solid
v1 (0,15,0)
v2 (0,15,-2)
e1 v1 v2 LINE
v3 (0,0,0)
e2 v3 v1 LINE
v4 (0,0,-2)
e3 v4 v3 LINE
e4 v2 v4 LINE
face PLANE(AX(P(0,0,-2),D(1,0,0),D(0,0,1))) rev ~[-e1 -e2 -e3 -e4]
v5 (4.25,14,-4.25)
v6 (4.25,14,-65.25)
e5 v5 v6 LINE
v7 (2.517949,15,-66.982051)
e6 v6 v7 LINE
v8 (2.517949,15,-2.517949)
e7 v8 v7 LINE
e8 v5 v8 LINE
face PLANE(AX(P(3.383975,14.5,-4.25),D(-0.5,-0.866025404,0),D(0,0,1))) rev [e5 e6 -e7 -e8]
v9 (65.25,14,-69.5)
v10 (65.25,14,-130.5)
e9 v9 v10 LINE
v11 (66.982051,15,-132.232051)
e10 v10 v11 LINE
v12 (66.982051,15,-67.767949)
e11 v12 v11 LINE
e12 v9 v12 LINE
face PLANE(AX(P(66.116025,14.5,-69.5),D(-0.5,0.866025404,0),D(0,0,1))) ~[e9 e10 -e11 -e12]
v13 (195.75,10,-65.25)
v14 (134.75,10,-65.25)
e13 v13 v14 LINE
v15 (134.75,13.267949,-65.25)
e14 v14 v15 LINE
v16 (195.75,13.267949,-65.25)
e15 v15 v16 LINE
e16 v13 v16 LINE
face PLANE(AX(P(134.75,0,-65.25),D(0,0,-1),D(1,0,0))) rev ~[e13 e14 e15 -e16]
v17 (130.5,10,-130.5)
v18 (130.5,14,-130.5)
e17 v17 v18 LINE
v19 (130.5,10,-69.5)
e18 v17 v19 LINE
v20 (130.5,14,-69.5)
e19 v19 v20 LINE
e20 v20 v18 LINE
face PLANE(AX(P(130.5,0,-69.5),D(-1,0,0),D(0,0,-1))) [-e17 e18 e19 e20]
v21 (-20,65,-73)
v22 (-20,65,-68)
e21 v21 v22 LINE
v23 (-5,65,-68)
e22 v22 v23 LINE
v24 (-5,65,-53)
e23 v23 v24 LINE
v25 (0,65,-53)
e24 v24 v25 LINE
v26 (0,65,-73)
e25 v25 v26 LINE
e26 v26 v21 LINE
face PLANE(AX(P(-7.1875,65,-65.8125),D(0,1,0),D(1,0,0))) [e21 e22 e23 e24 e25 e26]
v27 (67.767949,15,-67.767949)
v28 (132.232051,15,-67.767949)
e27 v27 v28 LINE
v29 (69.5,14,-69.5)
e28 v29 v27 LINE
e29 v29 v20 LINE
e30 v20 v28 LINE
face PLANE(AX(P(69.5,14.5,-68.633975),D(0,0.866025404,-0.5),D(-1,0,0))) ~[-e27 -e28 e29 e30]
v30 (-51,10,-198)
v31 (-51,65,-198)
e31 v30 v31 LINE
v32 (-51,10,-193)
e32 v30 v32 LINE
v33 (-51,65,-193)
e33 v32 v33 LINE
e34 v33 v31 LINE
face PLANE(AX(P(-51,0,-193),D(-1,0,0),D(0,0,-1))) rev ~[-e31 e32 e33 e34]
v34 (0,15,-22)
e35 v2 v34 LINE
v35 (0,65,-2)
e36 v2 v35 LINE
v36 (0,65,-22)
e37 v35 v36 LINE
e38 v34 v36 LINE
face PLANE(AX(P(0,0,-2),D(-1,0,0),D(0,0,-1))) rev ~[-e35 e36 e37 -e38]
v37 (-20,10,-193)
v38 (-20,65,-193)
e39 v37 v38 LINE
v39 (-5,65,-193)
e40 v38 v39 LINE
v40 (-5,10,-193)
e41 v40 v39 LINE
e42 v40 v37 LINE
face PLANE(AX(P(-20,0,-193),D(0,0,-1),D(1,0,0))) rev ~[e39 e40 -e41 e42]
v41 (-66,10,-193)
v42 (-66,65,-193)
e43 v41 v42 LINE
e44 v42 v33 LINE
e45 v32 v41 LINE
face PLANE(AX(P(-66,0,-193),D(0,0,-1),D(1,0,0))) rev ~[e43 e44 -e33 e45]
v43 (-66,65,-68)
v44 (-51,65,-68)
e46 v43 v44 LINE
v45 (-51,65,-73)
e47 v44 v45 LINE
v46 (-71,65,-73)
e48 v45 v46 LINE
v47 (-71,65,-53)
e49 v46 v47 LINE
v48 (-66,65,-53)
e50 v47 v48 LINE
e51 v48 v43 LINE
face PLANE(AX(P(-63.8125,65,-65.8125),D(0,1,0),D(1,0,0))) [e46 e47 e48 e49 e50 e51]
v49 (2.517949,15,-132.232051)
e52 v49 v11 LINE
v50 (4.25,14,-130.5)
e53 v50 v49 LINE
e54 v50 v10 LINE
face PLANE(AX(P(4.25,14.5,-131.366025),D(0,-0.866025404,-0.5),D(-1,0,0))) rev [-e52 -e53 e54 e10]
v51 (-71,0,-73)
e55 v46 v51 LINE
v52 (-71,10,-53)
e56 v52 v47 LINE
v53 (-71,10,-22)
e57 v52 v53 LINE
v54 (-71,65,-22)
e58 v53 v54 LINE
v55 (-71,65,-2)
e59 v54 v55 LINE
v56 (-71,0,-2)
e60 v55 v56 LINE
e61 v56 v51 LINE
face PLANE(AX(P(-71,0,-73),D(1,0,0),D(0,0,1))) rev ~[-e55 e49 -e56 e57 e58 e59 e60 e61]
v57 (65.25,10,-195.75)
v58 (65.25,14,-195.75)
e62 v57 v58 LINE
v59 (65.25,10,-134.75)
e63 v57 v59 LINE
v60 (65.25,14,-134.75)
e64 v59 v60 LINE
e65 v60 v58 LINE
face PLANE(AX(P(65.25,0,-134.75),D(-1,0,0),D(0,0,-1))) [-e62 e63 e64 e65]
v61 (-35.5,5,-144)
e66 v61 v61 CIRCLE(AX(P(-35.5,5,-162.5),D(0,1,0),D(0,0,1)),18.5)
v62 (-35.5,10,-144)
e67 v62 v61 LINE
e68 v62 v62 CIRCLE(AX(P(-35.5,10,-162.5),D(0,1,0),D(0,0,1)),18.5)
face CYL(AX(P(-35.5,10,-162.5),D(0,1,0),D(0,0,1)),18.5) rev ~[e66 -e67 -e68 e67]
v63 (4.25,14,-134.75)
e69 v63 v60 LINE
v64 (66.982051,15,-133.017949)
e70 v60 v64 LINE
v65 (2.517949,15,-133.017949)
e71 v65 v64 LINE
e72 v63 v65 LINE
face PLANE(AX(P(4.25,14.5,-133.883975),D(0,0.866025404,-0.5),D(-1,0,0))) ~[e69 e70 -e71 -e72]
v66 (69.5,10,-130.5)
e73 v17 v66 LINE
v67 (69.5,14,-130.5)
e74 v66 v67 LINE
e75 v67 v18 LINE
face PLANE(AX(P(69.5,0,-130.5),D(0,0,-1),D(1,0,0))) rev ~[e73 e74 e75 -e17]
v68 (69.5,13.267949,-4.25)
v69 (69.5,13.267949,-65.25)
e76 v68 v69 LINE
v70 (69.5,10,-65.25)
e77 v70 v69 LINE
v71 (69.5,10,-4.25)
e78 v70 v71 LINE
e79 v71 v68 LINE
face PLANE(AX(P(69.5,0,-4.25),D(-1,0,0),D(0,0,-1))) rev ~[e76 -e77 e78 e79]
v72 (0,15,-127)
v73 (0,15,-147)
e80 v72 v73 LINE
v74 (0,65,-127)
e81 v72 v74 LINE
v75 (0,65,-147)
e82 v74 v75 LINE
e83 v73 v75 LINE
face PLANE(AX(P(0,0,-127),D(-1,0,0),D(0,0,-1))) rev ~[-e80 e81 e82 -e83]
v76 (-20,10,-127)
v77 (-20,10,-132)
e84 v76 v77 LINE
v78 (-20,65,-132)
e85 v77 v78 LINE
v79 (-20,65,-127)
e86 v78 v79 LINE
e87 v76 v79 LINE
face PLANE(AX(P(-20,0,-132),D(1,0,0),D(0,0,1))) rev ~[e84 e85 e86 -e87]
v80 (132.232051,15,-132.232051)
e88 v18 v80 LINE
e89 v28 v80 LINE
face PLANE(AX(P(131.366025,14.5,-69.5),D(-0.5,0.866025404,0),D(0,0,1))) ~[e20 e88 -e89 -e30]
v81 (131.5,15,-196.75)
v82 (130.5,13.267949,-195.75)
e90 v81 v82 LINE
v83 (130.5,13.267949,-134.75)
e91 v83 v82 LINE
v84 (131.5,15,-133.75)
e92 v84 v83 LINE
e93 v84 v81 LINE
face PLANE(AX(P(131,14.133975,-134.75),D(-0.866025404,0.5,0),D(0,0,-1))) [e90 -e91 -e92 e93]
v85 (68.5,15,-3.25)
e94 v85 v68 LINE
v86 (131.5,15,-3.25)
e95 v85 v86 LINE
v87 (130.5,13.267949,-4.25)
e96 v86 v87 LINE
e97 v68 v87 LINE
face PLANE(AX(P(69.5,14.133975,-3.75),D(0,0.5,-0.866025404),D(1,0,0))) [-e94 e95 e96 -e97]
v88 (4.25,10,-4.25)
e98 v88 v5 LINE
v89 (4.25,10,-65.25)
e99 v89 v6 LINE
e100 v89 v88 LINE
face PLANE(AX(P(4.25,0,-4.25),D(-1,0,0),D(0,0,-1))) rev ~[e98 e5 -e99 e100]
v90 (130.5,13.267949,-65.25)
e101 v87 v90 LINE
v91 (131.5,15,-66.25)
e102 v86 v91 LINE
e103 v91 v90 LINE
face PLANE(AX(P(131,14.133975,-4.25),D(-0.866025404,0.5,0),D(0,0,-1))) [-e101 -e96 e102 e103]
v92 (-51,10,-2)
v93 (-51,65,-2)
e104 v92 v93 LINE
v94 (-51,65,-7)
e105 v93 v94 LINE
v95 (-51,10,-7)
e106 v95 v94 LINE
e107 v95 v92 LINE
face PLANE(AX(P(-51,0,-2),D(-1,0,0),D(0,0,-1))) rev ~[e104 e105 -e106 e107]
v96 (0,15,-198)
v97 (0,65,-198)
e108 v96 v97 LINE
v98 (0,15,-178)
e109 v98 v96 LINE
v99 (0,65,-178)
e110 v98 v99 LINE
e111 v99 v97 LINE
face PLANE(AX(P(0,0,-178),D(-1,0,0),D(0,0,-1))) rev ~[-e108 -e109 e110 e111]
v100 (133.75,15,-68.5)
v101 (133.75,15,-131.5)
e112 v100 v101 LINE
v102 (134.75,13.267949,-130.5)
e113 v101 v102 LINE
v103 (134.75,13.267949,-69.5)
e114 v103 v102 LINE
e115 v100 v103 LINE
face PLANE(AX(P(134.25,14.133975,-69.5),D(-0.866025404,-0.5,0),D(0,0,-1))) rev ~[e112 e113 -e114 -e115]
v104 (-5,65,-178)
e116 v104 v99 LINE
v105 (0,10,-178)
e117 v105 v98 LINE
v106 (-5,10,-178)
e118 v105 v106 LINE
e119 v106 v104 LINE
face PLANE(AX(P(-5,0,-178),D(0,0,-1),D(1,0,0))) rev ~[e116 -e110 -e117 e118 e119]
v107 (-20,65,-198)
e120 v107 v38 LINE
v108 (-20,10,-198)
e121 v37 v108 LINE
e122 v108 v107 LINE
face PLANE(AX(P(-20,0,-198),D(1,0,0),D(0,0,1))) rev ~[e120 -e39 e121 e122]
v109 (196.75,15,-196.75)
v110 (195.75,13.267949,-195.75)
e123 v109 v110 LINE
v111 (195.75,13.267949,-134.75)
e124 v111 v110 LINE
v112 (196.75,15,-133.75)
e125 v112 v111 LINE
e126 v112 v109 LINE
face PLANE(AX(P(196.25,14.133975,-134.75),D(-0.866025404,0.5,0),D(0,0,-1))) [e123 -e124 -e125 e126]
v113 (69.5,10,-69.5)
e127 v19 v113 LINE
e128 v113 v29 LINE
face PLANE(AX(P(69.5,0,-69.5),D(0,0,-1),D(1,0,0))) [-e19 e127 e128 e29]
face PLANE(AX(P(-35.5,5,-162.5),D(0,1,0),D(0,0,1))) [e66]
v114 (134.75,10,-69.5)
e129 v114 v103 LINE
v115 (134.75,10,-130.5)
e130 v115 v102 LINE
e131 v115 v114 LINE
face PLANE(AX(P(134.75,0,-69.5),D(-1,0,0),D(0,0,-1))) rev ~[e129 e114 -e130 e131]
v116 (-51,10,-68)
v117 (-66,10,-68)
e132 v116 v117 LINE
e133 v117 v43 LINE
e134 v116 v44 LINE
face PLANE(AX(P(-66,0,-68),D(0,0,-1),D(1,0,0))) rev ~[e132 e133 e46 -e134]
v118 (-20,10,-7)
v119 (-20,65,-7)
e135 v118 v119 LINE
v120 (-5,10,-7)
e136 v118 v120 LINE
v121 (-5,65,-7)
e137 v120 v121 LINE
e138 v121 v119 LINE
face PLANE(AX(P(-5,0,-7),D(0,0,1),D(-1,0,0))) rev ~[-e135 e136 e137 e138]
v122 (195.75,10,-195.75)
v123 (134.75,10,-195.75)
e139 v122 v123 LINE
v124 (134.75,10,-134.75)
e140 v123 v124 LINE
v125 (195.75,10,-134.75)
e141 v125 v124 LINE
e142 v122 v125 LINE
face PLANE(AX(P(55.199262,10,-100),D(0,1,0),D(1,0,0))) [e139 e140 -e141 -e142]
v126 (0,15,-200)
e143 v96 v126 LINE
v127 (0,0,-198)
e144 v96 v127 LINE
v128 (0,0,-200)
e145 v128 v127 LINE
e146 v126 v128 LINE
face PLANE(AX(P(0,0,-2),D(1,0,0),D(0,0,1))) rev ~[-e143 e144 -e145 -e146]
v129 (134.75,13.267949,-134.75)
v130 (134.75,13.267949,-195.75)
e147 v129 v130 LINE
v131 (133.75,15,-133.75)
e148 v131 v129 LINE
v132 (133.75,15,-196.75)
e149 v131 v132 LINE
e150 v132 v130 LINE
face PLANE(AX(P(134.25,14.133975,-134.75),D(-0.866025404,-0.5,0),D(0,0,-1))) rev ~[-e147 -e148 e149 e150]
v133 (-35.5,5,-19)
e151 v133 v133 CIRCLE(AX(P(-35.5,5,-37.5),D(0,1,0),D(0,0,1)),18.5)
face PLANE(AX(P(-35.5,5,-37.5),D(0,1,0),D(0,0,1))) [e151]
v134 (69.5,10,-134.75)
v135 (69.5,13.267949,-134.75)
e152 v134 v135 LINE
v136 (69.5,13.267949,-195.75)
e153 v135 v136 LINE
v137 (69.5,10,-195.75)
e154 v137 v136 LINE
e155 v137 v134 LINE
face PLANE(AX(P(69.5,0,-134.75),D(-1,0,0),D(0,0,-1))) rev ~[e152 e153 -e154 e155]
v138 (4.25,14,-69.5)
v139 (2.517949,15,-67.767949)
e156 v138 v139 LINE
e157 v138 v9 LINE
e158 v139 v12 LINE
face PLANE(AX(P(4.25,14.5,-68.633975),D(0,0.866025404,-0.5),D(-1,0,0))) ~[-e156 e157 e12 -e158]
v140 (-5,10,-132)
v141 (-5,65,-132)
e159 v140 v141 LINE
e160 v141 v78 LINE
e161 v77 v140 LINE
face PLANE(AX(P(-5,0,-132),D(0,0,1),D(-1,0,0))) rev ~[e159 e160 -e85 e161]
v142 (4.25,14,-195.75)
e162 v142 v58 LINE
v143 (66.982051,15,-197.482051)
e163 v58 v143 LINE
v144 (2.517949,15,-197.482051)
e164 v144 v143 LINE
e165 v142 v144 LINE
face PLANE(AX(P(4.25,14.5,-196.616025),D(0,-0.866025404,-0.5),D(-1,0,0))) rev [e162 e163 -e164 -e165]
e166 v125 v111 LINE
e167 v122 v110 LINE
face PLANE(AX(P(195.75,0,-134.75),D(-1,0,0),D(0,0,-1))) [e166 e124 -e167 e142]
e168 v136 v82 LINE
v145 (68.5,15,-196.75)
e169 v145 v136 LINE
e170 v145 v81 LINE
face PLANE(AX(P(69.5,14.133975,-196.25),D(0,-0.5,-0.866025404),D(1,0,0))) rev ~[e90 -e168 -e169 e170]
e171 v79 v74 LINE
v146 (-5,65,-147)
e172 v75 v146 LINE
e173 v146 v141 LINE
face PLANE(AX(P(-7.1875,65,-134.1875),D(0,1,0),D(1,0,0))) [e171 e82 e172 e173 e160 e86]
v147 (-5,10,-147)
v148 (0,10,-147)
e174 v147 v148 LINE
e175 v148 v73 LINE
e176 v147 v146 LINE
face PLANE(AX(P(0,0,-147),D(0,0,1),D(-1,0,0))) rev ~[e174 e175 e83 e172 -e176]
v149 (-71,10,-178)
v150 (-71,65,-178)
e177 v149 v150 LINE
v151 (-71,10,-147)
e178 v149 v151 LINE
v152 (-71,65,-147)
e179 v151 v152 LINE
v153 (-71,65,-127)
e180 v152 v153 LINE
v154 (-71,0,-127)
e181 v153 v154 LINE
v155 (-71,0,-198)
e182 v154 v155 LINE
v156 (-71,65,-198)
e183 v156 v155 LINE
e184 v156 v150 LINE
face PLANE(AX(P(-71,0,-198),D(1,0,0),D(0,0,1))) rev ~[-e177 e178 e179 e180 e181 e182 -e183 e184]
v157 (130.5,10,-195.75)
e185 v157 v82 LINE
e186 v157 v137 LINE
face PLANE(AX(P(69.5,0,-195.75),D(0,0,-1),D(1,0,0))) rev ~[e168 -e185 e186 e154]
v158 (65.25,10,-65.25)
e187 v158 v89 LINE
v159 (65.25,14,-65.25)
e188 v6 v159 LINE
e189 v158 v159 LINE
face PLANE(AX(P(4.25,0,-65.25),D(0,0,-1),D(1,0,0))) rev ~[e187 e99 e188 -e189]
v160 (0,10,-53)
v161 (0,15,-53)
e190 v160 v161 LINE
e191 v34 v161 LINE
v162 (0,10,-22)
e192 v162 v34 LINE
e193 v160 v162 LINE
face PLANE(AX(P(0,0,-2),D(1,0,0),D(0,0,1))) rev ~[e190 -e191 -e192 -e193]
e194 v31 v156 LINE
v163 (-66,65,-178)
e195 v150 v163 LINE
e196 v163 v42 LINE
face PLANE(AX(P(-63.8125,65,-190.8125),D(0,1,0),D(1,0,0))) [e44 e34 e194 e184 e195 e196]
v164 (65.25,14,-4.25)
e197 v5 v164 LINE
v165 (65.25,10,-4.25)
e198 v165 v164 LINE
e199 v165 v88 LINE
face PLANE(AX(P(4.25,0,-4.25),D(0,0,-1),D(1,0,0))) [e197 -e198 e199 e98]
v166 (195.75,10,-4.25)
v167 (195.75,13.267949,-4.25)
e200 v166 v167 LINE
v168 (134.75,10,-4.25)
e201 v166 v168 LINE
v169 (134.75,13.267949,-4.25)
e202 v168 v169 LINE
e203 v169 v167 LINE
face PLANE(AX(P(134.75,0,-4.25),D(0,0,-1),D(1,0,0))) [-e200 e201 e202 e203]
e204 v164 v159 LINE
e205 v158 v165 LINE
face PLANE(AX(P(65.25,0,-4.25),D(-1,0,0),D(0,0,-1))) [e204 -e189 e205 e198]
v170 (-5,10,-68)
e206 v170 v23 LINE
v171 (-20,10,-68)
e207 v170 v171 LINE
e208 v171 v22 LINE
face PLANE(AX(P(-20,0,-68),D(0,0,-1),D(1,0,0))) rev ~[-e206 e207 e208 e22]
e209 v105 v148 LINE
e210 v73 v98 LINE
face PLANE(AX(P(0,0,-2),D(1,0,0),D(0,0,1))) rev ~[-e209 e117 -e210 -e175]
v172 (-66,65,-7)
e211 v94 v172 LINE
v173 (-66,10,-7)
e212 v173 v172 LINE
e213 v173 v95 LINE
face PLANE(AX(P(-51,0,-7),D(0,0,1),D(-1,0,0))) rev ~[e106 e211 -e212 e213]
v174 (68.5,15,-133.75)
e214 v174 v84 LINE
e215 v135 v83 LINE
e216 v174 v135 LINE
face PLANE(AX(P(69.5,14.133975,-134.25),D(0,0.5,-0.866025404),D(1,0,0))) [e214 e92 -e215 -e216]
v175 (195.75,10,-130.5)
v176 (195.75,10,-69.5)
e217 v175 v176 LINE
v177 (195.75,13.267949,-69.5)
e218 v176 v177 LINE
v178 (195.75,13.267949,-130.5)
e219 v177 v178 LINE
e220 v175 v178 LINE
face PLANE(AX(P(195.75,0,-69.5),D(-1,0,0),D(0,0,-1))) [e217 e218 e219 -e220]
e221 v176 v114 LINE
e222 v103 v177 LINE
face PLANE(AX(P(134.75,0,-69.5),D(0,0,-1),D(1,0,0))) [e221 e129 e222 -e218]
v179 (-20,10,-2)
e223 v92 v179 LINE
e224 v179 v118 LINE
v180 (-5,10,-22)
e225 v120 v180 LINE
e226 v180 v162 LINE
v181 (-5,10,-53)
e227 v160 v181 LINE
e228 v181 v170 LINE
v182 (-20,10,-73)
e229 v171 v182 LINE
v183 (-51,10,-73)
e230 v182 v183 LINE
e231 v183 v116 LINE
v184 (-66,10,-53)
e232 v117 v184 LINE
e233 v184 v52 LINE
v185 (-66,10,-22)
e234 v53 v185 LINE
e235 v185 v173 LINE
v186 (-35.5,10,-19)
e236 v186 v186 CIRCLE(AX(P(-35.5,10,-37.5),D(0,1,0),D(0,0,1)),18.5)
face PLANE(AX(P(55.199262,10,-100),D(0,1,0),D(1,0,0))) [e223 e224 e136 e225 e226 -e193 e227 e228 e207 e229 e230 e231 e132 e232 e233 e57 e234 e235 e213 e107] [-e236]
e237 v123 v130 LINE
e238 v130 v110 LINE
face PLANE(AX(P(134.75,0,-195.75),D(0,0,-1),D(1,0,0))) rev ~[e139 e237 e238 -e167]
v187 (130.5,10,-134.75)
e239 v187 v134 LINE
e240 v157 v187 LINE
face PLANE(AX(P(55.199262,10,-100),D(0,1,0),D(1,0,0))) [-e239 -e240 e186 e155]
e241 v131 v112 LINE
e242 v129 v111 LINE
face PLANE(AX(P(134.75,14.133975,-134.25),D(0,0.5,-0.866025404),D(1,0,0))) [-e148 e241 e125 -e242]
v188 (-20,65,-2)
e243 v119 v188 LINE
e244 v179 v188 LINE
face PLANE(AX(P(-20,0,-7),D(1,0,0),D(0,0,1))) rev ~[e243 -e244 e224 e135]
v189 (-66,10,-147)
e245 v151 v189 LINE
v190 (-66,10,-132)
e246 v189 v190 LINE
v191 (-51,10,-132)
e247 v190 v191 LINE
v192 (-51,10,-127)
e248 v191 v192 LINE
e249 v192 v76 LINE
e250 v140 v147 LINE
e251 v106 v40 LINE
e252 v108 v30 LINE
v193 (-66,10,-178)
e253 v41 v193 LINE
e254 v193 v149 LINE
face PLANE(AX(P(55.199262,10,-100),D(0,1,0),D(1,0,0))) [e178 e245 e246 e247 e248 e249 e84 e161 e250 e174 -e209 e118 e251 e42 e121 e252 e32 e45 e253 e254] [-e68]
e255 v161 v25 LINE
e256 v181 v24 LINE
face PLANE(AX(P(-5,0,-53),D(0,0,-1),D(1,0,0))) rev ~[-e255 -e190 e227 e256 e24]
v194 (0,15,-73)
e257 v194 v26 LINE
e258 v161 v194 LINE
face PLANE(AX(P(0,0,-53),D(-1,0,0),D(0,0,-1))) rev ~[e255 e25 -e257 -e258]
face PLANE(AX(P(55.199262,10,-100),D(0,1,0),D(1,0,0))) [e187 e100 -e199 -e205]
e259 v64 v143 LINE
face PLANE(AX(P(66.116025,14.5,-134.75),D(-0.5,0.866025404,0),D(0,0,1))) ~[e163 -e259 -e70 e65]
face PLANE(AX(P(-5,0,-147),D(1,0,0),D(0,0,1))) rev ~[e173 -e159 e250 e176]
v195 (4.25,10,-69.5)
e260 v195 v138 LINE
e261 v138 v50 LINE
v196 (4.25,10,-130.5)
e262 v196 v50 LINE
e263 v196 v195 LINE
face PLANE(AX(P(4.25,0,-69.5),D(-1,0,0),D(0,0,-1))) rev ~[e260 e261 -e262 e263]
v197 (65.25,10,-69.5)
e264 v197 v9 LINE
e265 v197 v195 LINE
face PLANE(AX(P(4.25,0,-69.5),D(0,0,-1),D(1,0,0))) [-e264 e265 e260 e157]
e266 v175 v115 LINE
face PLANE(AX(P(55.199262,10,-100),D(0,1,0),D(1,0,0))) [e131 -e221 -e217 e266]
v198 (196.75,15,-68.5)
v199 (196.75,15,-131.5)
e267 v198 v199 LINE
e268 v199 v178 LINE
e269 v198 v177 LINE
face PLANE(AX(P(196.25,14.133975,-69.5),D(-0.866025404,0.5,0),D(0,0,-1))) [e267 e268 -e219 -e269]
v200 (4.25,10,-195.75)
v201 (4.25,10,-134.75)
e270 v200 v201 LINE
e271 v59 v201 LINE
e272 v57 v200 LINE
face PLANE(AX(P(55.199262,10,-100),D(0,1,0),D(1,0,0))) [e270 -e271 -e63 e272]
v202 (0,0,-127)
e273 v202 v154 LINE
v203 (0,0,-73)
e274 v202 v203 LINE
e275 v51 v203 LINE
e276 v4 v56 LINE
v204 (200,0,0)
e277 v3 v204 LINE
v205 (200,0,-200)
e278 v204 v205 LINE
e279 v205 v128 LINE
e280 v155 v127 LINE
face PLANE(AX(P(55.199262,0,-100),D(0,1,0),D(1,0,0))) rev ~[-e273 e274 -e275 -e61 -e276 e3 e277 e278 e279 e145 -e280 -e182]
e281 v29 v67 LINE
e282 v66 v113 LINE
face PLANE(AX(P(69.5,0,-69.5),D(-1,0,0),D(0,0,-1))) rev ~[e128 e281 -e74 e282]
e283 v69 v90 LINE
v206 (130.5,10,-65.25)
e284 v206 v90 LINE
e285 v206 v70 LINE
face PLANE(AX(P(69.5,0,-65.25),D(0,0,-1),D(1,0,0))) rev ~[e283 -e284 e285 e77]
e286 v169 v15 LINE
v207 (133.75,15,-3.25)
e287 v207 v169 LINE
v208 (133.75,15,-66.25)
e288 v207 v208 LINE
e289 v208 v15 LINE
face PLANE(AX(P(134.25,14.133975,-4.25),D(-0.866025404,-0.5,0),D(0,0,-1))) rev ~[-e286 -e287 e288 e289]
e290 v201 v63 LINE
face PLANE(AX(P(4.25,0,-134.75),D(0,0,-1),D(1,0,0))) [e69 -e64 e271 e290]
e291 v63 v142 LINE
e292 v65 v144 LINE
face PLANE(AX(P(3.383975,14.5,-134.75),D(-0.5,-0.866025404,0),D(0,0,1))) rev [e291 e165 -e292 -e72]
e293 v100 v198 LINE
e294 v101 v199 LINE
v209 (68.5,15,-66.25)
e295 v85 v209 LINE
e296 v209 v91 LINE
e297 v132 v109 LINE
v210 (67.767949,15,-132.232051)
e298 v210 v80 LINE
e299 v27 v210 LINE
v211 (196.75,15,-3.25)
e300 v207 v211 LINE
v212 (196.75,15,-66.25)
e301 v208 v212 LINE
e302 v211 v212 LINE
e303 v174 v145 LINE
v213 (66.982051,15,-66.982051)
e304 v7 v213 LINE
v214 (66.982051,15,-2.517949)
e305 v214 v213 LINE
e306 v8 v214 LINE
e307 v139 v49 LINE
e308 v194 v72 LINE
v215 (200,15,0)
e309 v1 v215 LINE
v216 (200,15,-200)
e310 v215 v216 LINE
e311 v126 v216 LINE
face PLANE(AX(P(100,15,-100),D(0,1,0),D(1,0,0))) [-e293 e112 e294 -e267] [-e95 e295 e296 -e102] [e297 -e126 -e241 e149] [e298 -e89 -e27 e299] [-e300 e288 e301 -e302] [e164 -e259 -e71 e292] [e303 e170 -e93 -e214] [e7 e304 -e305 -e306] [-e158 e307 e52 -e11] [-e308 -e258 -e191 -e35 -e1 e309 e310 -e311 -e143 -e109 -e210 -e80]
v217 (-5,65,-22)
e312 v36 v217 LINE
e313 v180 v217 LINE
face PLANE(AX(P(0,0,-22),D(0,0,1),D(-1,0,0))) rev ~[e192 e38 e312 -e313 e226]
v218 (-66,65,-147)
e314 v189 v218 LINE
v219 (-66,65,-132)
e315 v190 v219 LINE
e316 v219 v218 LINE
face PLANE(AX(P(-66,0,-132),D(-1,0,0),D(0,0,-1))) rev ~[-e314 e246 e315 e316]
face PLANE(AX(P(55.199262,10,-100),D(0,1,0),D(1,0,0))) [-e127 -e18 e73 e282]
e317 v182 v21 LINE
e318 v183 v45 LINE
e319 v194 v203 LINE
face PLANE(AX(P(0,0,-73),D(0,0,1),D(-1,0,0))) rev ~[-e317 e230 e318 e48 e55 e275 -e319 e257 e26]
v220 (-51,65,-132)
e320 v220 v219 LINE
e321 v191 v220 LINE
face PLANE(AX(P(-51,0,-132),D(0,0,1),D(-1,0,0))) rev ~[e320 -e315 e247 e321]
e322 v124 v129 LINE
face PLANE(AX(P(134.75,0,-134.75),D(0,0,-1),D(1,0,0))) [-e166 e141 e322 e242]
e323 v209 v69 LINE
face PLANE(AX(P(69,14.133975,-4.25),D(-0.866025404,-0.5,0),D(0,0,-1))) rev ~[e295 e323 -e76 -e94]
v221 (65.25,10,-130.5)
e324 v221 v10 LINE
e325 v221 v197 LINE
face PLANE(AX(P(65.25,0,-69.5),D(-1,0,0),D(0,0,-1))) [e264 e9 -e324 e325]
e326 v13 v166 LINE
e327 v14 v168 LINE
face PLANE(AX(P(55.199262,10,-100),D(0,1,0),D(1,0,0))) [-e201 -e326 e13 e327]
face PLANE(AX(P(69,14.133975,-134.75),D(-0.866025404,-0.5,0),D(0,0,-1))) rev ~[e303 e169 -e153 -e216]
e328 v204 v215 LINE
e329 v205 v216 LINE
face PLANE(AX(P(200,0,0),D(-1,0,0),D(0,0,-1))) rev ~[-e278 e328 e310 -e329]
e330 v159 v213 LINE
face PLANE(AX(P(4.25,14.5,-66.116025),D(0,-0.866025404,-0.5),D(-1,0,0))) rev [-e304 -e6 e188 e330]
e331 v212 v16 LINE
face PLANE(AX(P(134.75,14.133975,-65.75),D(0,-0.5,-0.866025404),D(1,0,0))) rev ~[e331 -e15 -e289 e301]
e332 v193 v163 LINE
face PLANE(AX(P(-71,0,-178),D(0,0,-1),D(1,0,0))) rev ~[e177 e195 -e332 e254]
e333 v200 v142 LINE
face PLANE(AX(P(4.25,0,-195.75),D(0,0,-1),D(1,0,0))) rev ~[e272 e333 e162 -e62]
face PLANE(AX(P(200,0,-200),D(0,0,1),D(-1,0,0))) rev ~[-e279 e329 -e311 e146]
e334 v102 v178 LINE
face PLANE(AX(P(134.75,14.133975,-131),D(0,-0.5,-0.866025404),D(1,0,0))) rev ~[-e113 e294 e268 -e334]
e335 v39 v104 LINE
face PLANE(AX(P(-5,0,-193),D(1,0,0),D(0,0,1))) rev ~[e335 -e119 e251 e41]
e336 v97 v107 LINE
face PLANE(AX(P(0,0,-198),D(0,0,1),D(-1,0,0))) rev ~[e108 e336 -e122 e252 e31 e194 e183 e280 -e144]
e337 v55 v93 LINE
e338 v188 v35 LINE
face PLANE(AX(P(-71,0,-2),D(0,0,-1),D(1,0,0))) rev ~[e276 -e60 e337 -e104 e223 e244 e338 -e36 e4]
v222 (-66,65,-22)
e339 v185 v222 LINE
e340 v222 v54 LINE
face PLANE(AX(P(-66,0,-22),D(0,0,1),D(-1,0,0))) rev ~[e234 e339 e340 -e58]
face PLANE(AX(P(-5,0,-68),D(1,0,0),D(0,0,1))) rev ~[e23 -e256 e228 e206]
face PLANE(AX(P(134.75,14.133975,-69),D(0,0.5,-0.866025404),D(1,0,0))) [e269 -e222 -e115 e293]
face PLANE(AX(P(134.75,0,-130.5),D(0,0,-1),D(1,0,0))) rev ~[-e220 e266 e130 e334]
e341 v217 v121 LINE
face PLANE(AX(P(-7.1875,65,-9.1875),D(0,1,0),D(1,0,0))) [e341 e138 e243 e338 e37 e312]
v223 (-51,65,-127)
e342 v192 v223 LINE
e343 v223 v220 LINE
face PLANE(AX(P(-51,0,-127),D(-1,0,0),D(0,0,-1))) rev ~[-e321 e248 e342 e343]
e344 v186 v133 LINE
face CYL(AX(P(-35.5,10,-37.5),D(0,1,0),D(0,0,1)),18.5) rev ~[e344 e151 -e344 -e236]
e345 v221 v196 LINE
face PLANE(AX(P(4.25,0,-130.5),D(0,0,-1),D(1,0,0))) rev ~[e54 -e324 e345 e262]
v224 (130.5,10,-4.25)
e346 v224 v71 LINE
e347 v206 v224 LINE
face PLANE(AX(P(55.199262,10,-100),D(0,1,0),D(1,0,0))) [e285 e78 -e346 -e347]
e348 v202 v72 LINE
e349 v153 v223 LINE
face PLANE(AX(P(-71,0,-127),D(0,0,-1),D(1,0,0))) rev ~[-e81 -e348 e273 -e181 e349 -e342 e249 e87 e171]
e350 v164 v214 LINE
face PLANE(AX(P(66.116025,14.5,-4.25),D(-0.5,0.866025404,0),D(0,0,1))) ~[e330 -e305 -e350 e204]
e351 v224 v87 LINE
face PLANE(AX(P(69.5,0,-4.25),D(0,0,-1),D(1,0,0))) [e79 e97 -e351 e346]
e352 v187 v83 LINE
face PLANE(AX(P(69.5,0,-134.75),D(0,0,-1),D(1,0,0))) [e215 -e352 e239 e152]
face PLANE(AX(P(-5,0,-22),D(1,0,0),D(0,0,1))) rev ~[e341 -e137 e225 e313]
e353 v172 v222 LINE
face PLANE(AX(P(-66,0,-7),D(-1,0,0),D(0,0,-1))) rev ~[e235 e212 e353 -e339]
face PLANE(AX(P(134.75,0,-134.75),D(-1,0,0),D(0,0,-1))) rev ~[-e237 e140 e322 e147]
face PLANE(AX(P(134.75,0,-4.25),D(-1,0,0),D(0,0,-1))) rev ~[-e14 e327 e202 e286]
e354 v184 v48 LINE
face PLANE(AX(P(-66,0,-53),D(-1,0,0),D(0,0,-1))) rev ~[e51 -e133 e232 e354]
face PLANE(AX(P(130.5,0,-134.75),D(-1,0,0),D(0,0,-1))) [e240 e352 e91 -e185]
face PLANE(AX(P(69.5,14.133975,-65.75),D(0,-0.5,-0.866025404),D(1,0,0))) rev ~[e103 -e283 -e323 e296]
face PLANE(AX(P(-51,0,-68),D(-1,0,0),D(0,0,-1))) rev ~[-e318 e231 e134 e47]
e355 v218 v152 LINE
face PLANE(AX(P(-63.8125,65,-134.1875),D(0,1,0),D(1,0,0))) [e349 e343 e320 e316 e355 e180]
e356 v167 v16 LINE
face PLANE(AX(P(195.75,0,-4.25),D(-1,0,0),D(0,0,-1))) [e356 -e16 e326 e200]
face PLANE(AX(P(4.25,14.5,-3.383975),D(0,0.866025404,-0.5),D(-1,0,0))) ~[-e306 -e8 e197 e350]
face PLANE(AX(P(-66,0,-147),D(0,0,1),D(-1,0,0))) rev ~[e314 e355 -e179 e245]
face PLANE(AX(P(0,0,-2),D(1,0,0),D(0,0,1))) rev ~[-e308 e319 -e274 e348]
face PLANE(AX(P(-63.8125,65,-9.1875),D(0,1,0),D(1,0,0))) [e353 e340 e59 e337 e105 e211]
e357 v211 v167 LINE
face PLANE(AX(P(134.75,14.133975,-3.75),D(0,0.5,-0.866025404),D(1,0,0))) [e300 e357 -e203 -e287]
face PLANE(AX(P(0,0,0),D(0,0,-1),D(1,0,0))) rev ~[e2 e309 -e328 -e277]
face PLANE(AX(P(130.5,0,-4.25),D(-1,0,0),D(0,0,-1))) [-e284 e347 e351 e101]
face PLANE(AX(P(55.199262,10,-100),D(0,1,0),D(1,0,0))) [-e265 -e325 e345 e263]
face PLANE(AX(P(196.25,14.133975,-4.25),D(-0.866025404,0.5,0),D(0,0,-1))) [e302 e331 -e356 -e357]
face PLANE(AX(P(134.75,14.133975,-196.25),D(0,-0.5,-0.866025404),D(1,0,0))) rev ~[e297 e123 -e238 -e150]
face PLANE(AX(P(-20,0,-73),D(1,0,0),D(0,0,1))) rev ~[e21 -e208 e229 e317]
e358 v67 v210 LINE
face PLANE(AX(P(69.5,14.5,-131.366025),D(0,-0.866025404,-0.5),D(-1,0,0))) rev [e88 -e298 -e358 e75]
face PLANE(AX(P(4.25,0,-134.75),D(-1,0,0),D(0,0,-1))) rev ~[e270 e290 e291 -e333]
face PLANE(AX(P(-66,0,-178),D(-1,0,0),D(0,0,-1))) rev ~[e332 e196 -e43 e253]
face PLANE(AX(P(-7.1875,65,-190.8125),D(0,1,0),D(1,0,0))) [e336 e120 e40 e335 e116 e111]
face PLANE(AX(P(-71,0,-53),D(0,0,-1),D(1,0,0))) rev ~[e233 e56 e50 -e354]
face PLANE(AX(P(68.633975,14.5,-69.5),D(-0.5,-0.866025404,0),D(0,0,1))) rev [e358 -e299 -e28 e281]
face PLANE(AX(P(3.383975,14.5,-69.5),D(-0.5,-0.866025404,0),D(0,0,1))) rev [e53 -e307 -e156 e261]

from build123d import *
from OCP.BRepFilletAPI import BRepFilletAPI_MakeChamfer

# Parameters (mm, degrees)
BOARDBASE_DEPTH     = 10
SKETCH1_6_W         = 200
SKETCH1_6_H         = 200
SKETCH1_6_W_2       = 61
SKETCH1_6_H_2       = 61
PIECEHOLDERS_DEPTH  = 15
PIECESLIDEAID_SIZE  = 1
PIECESLIDEAID_SIZE2 = 1.732050808
BOSS_EXTRUDE3_DEPTH = 65
SKETCH4_R           = 18.5
CUT_EXTRUDE1_DEPTH  = 5


with BuildPart() as part:
    # Sketch1 → BoardBase (new body)
    with BuildSketch(Plane(origin=(0, 0, 0), x_dir=(1, 0, 0), z_dir=(0, 1, 0))):
        Polygon((0, 2), (0, 0), (200, 0), (200, 200), (0, 200), (0, 198), (-71, 198), (-71, 127), (0, 127), (0, 73), (-71, 73), (-71, 2), align=None)
    extrude(amount=BOARDBASE_DEPTH)

    # Sketch1<6> → PieceHolders (add)
    with BuildSketch(Plane(origin=(0, 0, 0), x_dir=(1, 0, 0), z_dir=(0, 1, 0))):
        with Locations((100, 100)):
            Rectangle(SKETCH1_6_W, SKETCH1_6_H)
        with Locations((34.75, 165.25)):
            Rectangle(SKETCH1_6_W_2, SKETCH1_6_H_2, mode=Mode.SUBTRACT)
        with Locations((100, 165.25)):
            Rectangle(SKETCH1_6_W_2, SKETCH1_6_H_2, mode=Mode.SUBTRACT)
        with Locations((165.25, 165.25)):
            Rectangle(SKETCH1_6_W_2, SKETCH1_6_H_2, mode=Mode.SUBTRACT)
        with Locations((34.75, 100)):
            Rectangle(SKETCH1_6_W_2, SKETCH1_6_H_2, mode=Mode.SUBTRACT)
        with Locations((100, 100)):
            Rectangle(SKETCH1_6_W_2, SKETCH1_6_H_2, mode=Mode.SUBTRACT)
        with Locations((165.25, 100)):
            Rectangle(SKETCH1_6_W_2, SKETCH1_6_H_2, mode=Mode.SUBTRACT)
        with Locations((34.75, 34.75)):
            Rectangle(SKETCH1_6_W_2, SKETCH1_6_H_2, mode=Mode.SUBTRACT)
        with Locations((100, 34.75)):
            Rectangle(SKETCH1_6_W_2, SKETCH1_6_H_2, mode=Mode.SUBTRACT)
        with Locations((165.25, 34.75)):
            Rectangle(SKETCH1_6_W_2, SKETCH1_6_H_2, mode=Mode.SUBTRACT)
    extrude(amount=PIECEHOLDERS_DEPTH)

    # PieceSlideAid: one chamfer whose edges measure the first distance from different faces: ONE call of the kernel's chamfer builder (chamfer() names one face for all edges)
    pieceslideaid_edges_1 = [part.edges().sort_by_distance(p)[0] for p in [
        (165.25, 15, -4.25),
        (100, 15, -4.25),
        (165.25, 15, -69.5),
        (165.25, 15, -134.75),
        (100, 15, -134.75),
        (69.5, 15, -34.75),
        (134.75, 15, -100),
        (134.75, 15, -165.25),
        (69.5, 15, -165.25),
        (134.75, 15, -34.75),
        (100, 15, -195.75),
        (130.5, 15, -165.25),
        (165.25, 15, -195.75),
        (195.75, 15, -165.25),
        (165.25, 15, -130.5),
        (195.75, 15, -100),
        (100, 15, -65.25),
        (130.5, 15, -34.75),
        (165.25, 15, -65.25),
        (195.75, 15, -34.75),
    ]]
    pieceslideaid_side_1 = [part.faces().sort_by_distance(p)[0] for p in [
        (100, 15, -2.828427125),
    ]]
    pieceslideaid_edges_2 = [part.edges().sort_by_distance(p)[0] for p in [
        (34.75, 15, -4.25),
    ]]
    pieceslideaid_side_2 = [part.faces().sort_by_distance(p)[0] for p in [
        (34.75, 12.5, -4.25),
    ]]
    pieceslideaid_edges_3 = [part.edges().sort_by_distance(p)[0] for p in [
        (100, 15, -69.5),
    ]]
    pieceslideaid_side_3 = [part.faces().sort_by_distance(p)[0] for p in [
        (100, 12.5, -69.5),
    ]]
    pieceslideaid_edges_4 = [part.edges().sort_by_distance(p)[0] for p in [
        (34.75, 15, -69.5),
    ]]
    pieceslideaid_side_4 = [part.faces().sort_by_distance(p)[0] for p in [
        (34.75, 12.5, -69.5),
    ]]
    pieceslideaid_edges_5 = [part.edges().sort_by_distance(p)[0] for p in [
        (34.75, 15, -134.75),
    ]]
    pieceslideaid_side_5 = [part.faces().sort_by_distance(p)[0] for p in [
        (34.75, 12.5, -134.75),
    ]]
    pieceslideaid_edges_6 = [part.edges().sort_by_distance(p)[0] for p in [
        (4.25, 15, -34.75),
    ]]
    pieceslideaid_side_6 = [part.faces().sort_by_distance(p)[0] for p in [
        (4.25, 12.5, -34.75),
    ]]
    pieceslideaid_edges_7 = [part.edges().sort_by_distance(p)[0] for p in [
        (69.5, 15, -100),
    ]]
    pieceslideaid_side_7 = [part.faces().sort_by_distance(p)[0] for p in [
        (69.5, 12.5, -100),
    ]]
    pieceslideaid_edges_8 = [part.edges().sort_by_distance(p)[0] for p in [
        (4.25, 15, -100),
    ]]
    pieceslideaid_side_8 = [part.faces().sort_by_distance(p)[0] for p in [
        (4.25, 12.5, -100),
    ]]
    pieceslideaid_edges_9 = [part.edges().sort_by_distance(p)[0] for p in [
        (4.25, 15, -165.25),
    ]]
    pieceslideaid_side_9 = [part.faces().sort_by_distance(p)[0] for p in [
        (4.25, 12.5, -165.25),
    ]]
    pieceslideaid_edges_10 = [part.edges().sort_by_distance(p)[0] for p in [
        (34.75, 15, -195.75),
    ]]
    pieceslideaid_side_10 = [part.faces().sort_by_distance(p)[0] for p in [
        (34.75, 12.5, -195.75),
    ]]
    pieceslideaid_edges_11 = [part.edges().sort_by_distance(p)[0] for p in [
        (65.25, 15, -165.25),
    ]]
    pieceslideaid_side_11 = [part.faces().sort_by_distance(p)[0] for p in [
        (65.25, 12.5, -165.25),
    ]]
    pieceslideaid_edges_12 = [part.edges().sort_by_distance(p)[0] for p in [
        (34.75, 15, -130.5),
    ]]
    pieceslideaid_side_12 = [part.faces().sort_by_distance(p)[0] for p in [
        (34.75, 12.5, -130.5),
    ]]
    pieceslideaid_edges_13 = [part.edges().sort_by_distance(p)[0] for p in [
        (65.25, 15, -100),
    ]]
    pieceslideaid_side_13 = [part.faces().sort_by_distance(p)[0] for p in [
        (65.25, 12.5, -100),
    ]]
    pieceslideaid_edges_14 = [part.edges().sort_by_distance(p)[0] for p in [
        (100, 15, -130.5),
    ]]
    pieceslideaid_side_14 = [part.faces().sort_by_distance(p)[0] for p in [
        (100, 12.5, -130.5),
    ]]
    pieceslideaid_edges_15 = [part.edges().sort_by_distance(p)[0] for p in [
        (130.5, 15, -100),
    ]]
    pieceslideaid_side_15 = [part.faces().sort_by_distance(p)[0] for p in [
        (130.5, 12.5, -100),
    ]]
    pieceslideaid_edges_16 = [part.edges().sort_by_distance(p)[0] for p in [
        (34.75, 15, -65.25),
    ]]
    pieceslideaid_side_16 = [part.faces().sort_by_distance(p)[0] for p in [
        (34.75, 12.5, -65.25),
    ]]
    pieceslideaid_edges_17 = [part.edges().sort_by_distance(p)[0] for p in [
        (65.25, 15, -34.75),
    ]]
    pieceslideaid_side_17 = [part.faces().sort_by_distance(p)[0] for p in [
        (65.25, 12.5, -34.75),
    ]]
    pieceslideaid = BRepFilletAPI_MakeChamfer(part.part.solid().wrapped)
    for e in pieceslideaid_edges_1:
        pieceslideaid.Add(PIECESLIDEAID_SIZE, PIECESLIDEAID_SIZE2, e.wrapped, pieceslideaid_side_1[0].wrapped)  # the first distance lies on this face
    for e in pieceslideaid_edges_2:
        pieceslideaid.Add(PIECESLIDEAID_SIZE, PIECESLIDEAID_SIZE2, e.wrapped, pieceslideaid_side_2[0].wrapped)  # the first distance lies on this face
    for e in pieceslideaid_edges_3:
        pieceslideaid.Add(PIECESLIDEAID_SIZE, PIECESLIDEAID_SIZE2, e.wrapped, pieceslideaid_side_3[0].wrapped)  # the first distance lies on this face
    for e in pieceslideaid_edges_4:
        pieceslideaid.Add(PIECESLIDEAID_SIZE, PIECESLIDEAID_SIZE2, e.wrapped, pieceslideaid_side_4[0].wrapped)  # the first distance lies on this face
    for e in pieceslideaid_edges_5:
        pieceslideaid.Add(PIECESLIDEAID_SIZE, PIECESLIDEAID_SIZE2, e.wrapped, pieceslideaid_side_5[0].wrapped)  # the first distance lies on this face
    for e in pieceslideaid_edges_6:
        pieceslideaid.Add(PIECESLIDEAID_SIZE, PIECESLIDEAID_SIZE2, e.wrapped, pieceslideaid_side_6[0].wrapped)  # the first distance lies on this face
    for e in pieceslideaid_edges_7:
        pieceslideaid.Add(PIECESLIDEAID_SIZE, PIECESLIDEAID_SIZE2, e.wrapped, pieceslideaid_side_7[0].wrapped)  # the first distance lies on this face
    for e in pieceslideaid_edges_8:
        pieceslideaid.Add(PIECESLIDEAID_SIZE, PIECESLIDEAID_SIZE2, e.wrapped, pieceslideaid_side_8[0].wrapped)  # the first distance lies on this face
    for e in pieceslideaid_edges_9:
        pieceslideaid.Add(PIECESLIDEAID_SIZE, PIECESLIDEAID_SIZE2, e.wrapped, pieceslideaid_side_9[0].wrapped)  # the first distance lies on this face
    for e in pieceslideaid_edges_10:
        pieceslideaid.Add(PIECESLIDEAID_SIZE, PIECESLIDEAID_SIZE2, e.wrapped, pieceslideaid_side_10[0].wrapped)  # the first distance lies on this face
    for e in pieceslideaid_edges_11:
        pieceslideaid.Add(PIECESLIDEAID_SIZE, PIECESLIDEAID_SIZE2, e.wrapped, pieceslideaid_side_11[0].wrapped)  # the first distance lies on this face
    for e in pieceslideaid_edges_12:
        pieceslideaid.Add(PIECESLIDEAID_SIZE, PIECESLIDEAID_SIZE2, e.wrapped, pieceslideaid_side_12[0].wrapped)  # the first distance lies on this face
    for e in pieceslideaid_edges_13:
        pieceslideaid.Add(PIECESLIDEAID_SIZE, PIECESLIDEAID_SIZE2, e.wrapped, pieceslideaid_side_13[0].wrapped)  # the first distance lies on this face
    for e in pieceslideaid_edges_14:
        pieceslideaid.Add(PIECESLIDEAID_SIZE, PIECESLIDEAID_SIZE2, e.wrapped, pieceslideaid_side_14[0].wrapped)  # the first distance lies on this face
    for e in pieceslideaid_edges_15:
        pieceslideaid.Add(PIECESLIDEAID_SIZE, PIECESLIDEAID_SIZE2, e.wrapped, pieceslideaid_side_15[0].wrapped)  # the first distance lies on this face
    for e in pieceslideaid_edges_16:
        pieceslideaid.Add(PIECESLIDEAID_SIZE, PIECESLIDEAID_SIZE2, e.wrapped, pieceslideaid_side_16[0].wrapped)  # the first distance lies on this face
    for e in pieceslideaid_edges_17:
        pieceslideaid.Add(PIECESLIDEAID_SIZE, PIECESLIDEAID_SIZE2, e.wrapped, pieceslideaid_side_17[0].wrapped)  # the first distance lies on this face
    add(Compound.cast(pieceslideaid.Shape()), mode=Mode.REPLACE)

    # Sketch1<8> → Boss-Extrude3 (add)
    with BuildSketch(Plane(origin=(0, 0, 0), x_dir=(1, 0, 0), z_dir=(0, 1, 0))):
        Polygon((-71, 127), (-51, 127), (-51, 132), (-66, 132), (-66, 147), (-71, 147), align=None)
        Polygon((-51, 193), (-51, 198), (-71, 198), (-71, 178), (-66, 178), (-66, 193), align=None)
        Polygon((0, 178), (0, 198), (-20, 198), (-20, 193), (-5, 193), (-5, 178), align=None)
        Polygon((-20, 127), (0, 127), (0, 147), (-5, 147), (-5, 132), (-20, 132), align=None)
        Polygon((-51, 68), (-51, 73), (-71, 73), (-71, 53), (-66, 53), (-66, 68), align=None)
        Polygon((-71, 2), (-51, 2), (-51, 7), (-66, 7), (-66, 22), (-71, 22), align=None)
        Polygon((-20, 2), (0, 2), (0, 22), (-5, 22), (-5, 7), (-20, 7), align=None)
        Polygon((-5, 53), (0, 53), (0, 73), (-20, 73), (-20, 68), (-5, 68), align=None)
    extrude(amount=BOSS_EXTRUDE3_DEPTH)

    # Sketch4 → Cut-Extrude1 (cut)
    with BuildSketch(Plane(origin=(0, 10, 0), x_dir=(1, 0, 0), z_dir=(0, 1, 0))):
        with Locations(Location((-35.5, 37.5, 0), (0, 0, 270))):
            Circle(SKETCH4_R)
        with Locations(Location((-35.5, 162.5, 0), (0, 0, 270))):
            Circle(SKETCH4_R)
    extrude(amount=-CUT_EXTRUDE1_DEPTH, mode=Mode.SUBTRACT)


solid = part.part
